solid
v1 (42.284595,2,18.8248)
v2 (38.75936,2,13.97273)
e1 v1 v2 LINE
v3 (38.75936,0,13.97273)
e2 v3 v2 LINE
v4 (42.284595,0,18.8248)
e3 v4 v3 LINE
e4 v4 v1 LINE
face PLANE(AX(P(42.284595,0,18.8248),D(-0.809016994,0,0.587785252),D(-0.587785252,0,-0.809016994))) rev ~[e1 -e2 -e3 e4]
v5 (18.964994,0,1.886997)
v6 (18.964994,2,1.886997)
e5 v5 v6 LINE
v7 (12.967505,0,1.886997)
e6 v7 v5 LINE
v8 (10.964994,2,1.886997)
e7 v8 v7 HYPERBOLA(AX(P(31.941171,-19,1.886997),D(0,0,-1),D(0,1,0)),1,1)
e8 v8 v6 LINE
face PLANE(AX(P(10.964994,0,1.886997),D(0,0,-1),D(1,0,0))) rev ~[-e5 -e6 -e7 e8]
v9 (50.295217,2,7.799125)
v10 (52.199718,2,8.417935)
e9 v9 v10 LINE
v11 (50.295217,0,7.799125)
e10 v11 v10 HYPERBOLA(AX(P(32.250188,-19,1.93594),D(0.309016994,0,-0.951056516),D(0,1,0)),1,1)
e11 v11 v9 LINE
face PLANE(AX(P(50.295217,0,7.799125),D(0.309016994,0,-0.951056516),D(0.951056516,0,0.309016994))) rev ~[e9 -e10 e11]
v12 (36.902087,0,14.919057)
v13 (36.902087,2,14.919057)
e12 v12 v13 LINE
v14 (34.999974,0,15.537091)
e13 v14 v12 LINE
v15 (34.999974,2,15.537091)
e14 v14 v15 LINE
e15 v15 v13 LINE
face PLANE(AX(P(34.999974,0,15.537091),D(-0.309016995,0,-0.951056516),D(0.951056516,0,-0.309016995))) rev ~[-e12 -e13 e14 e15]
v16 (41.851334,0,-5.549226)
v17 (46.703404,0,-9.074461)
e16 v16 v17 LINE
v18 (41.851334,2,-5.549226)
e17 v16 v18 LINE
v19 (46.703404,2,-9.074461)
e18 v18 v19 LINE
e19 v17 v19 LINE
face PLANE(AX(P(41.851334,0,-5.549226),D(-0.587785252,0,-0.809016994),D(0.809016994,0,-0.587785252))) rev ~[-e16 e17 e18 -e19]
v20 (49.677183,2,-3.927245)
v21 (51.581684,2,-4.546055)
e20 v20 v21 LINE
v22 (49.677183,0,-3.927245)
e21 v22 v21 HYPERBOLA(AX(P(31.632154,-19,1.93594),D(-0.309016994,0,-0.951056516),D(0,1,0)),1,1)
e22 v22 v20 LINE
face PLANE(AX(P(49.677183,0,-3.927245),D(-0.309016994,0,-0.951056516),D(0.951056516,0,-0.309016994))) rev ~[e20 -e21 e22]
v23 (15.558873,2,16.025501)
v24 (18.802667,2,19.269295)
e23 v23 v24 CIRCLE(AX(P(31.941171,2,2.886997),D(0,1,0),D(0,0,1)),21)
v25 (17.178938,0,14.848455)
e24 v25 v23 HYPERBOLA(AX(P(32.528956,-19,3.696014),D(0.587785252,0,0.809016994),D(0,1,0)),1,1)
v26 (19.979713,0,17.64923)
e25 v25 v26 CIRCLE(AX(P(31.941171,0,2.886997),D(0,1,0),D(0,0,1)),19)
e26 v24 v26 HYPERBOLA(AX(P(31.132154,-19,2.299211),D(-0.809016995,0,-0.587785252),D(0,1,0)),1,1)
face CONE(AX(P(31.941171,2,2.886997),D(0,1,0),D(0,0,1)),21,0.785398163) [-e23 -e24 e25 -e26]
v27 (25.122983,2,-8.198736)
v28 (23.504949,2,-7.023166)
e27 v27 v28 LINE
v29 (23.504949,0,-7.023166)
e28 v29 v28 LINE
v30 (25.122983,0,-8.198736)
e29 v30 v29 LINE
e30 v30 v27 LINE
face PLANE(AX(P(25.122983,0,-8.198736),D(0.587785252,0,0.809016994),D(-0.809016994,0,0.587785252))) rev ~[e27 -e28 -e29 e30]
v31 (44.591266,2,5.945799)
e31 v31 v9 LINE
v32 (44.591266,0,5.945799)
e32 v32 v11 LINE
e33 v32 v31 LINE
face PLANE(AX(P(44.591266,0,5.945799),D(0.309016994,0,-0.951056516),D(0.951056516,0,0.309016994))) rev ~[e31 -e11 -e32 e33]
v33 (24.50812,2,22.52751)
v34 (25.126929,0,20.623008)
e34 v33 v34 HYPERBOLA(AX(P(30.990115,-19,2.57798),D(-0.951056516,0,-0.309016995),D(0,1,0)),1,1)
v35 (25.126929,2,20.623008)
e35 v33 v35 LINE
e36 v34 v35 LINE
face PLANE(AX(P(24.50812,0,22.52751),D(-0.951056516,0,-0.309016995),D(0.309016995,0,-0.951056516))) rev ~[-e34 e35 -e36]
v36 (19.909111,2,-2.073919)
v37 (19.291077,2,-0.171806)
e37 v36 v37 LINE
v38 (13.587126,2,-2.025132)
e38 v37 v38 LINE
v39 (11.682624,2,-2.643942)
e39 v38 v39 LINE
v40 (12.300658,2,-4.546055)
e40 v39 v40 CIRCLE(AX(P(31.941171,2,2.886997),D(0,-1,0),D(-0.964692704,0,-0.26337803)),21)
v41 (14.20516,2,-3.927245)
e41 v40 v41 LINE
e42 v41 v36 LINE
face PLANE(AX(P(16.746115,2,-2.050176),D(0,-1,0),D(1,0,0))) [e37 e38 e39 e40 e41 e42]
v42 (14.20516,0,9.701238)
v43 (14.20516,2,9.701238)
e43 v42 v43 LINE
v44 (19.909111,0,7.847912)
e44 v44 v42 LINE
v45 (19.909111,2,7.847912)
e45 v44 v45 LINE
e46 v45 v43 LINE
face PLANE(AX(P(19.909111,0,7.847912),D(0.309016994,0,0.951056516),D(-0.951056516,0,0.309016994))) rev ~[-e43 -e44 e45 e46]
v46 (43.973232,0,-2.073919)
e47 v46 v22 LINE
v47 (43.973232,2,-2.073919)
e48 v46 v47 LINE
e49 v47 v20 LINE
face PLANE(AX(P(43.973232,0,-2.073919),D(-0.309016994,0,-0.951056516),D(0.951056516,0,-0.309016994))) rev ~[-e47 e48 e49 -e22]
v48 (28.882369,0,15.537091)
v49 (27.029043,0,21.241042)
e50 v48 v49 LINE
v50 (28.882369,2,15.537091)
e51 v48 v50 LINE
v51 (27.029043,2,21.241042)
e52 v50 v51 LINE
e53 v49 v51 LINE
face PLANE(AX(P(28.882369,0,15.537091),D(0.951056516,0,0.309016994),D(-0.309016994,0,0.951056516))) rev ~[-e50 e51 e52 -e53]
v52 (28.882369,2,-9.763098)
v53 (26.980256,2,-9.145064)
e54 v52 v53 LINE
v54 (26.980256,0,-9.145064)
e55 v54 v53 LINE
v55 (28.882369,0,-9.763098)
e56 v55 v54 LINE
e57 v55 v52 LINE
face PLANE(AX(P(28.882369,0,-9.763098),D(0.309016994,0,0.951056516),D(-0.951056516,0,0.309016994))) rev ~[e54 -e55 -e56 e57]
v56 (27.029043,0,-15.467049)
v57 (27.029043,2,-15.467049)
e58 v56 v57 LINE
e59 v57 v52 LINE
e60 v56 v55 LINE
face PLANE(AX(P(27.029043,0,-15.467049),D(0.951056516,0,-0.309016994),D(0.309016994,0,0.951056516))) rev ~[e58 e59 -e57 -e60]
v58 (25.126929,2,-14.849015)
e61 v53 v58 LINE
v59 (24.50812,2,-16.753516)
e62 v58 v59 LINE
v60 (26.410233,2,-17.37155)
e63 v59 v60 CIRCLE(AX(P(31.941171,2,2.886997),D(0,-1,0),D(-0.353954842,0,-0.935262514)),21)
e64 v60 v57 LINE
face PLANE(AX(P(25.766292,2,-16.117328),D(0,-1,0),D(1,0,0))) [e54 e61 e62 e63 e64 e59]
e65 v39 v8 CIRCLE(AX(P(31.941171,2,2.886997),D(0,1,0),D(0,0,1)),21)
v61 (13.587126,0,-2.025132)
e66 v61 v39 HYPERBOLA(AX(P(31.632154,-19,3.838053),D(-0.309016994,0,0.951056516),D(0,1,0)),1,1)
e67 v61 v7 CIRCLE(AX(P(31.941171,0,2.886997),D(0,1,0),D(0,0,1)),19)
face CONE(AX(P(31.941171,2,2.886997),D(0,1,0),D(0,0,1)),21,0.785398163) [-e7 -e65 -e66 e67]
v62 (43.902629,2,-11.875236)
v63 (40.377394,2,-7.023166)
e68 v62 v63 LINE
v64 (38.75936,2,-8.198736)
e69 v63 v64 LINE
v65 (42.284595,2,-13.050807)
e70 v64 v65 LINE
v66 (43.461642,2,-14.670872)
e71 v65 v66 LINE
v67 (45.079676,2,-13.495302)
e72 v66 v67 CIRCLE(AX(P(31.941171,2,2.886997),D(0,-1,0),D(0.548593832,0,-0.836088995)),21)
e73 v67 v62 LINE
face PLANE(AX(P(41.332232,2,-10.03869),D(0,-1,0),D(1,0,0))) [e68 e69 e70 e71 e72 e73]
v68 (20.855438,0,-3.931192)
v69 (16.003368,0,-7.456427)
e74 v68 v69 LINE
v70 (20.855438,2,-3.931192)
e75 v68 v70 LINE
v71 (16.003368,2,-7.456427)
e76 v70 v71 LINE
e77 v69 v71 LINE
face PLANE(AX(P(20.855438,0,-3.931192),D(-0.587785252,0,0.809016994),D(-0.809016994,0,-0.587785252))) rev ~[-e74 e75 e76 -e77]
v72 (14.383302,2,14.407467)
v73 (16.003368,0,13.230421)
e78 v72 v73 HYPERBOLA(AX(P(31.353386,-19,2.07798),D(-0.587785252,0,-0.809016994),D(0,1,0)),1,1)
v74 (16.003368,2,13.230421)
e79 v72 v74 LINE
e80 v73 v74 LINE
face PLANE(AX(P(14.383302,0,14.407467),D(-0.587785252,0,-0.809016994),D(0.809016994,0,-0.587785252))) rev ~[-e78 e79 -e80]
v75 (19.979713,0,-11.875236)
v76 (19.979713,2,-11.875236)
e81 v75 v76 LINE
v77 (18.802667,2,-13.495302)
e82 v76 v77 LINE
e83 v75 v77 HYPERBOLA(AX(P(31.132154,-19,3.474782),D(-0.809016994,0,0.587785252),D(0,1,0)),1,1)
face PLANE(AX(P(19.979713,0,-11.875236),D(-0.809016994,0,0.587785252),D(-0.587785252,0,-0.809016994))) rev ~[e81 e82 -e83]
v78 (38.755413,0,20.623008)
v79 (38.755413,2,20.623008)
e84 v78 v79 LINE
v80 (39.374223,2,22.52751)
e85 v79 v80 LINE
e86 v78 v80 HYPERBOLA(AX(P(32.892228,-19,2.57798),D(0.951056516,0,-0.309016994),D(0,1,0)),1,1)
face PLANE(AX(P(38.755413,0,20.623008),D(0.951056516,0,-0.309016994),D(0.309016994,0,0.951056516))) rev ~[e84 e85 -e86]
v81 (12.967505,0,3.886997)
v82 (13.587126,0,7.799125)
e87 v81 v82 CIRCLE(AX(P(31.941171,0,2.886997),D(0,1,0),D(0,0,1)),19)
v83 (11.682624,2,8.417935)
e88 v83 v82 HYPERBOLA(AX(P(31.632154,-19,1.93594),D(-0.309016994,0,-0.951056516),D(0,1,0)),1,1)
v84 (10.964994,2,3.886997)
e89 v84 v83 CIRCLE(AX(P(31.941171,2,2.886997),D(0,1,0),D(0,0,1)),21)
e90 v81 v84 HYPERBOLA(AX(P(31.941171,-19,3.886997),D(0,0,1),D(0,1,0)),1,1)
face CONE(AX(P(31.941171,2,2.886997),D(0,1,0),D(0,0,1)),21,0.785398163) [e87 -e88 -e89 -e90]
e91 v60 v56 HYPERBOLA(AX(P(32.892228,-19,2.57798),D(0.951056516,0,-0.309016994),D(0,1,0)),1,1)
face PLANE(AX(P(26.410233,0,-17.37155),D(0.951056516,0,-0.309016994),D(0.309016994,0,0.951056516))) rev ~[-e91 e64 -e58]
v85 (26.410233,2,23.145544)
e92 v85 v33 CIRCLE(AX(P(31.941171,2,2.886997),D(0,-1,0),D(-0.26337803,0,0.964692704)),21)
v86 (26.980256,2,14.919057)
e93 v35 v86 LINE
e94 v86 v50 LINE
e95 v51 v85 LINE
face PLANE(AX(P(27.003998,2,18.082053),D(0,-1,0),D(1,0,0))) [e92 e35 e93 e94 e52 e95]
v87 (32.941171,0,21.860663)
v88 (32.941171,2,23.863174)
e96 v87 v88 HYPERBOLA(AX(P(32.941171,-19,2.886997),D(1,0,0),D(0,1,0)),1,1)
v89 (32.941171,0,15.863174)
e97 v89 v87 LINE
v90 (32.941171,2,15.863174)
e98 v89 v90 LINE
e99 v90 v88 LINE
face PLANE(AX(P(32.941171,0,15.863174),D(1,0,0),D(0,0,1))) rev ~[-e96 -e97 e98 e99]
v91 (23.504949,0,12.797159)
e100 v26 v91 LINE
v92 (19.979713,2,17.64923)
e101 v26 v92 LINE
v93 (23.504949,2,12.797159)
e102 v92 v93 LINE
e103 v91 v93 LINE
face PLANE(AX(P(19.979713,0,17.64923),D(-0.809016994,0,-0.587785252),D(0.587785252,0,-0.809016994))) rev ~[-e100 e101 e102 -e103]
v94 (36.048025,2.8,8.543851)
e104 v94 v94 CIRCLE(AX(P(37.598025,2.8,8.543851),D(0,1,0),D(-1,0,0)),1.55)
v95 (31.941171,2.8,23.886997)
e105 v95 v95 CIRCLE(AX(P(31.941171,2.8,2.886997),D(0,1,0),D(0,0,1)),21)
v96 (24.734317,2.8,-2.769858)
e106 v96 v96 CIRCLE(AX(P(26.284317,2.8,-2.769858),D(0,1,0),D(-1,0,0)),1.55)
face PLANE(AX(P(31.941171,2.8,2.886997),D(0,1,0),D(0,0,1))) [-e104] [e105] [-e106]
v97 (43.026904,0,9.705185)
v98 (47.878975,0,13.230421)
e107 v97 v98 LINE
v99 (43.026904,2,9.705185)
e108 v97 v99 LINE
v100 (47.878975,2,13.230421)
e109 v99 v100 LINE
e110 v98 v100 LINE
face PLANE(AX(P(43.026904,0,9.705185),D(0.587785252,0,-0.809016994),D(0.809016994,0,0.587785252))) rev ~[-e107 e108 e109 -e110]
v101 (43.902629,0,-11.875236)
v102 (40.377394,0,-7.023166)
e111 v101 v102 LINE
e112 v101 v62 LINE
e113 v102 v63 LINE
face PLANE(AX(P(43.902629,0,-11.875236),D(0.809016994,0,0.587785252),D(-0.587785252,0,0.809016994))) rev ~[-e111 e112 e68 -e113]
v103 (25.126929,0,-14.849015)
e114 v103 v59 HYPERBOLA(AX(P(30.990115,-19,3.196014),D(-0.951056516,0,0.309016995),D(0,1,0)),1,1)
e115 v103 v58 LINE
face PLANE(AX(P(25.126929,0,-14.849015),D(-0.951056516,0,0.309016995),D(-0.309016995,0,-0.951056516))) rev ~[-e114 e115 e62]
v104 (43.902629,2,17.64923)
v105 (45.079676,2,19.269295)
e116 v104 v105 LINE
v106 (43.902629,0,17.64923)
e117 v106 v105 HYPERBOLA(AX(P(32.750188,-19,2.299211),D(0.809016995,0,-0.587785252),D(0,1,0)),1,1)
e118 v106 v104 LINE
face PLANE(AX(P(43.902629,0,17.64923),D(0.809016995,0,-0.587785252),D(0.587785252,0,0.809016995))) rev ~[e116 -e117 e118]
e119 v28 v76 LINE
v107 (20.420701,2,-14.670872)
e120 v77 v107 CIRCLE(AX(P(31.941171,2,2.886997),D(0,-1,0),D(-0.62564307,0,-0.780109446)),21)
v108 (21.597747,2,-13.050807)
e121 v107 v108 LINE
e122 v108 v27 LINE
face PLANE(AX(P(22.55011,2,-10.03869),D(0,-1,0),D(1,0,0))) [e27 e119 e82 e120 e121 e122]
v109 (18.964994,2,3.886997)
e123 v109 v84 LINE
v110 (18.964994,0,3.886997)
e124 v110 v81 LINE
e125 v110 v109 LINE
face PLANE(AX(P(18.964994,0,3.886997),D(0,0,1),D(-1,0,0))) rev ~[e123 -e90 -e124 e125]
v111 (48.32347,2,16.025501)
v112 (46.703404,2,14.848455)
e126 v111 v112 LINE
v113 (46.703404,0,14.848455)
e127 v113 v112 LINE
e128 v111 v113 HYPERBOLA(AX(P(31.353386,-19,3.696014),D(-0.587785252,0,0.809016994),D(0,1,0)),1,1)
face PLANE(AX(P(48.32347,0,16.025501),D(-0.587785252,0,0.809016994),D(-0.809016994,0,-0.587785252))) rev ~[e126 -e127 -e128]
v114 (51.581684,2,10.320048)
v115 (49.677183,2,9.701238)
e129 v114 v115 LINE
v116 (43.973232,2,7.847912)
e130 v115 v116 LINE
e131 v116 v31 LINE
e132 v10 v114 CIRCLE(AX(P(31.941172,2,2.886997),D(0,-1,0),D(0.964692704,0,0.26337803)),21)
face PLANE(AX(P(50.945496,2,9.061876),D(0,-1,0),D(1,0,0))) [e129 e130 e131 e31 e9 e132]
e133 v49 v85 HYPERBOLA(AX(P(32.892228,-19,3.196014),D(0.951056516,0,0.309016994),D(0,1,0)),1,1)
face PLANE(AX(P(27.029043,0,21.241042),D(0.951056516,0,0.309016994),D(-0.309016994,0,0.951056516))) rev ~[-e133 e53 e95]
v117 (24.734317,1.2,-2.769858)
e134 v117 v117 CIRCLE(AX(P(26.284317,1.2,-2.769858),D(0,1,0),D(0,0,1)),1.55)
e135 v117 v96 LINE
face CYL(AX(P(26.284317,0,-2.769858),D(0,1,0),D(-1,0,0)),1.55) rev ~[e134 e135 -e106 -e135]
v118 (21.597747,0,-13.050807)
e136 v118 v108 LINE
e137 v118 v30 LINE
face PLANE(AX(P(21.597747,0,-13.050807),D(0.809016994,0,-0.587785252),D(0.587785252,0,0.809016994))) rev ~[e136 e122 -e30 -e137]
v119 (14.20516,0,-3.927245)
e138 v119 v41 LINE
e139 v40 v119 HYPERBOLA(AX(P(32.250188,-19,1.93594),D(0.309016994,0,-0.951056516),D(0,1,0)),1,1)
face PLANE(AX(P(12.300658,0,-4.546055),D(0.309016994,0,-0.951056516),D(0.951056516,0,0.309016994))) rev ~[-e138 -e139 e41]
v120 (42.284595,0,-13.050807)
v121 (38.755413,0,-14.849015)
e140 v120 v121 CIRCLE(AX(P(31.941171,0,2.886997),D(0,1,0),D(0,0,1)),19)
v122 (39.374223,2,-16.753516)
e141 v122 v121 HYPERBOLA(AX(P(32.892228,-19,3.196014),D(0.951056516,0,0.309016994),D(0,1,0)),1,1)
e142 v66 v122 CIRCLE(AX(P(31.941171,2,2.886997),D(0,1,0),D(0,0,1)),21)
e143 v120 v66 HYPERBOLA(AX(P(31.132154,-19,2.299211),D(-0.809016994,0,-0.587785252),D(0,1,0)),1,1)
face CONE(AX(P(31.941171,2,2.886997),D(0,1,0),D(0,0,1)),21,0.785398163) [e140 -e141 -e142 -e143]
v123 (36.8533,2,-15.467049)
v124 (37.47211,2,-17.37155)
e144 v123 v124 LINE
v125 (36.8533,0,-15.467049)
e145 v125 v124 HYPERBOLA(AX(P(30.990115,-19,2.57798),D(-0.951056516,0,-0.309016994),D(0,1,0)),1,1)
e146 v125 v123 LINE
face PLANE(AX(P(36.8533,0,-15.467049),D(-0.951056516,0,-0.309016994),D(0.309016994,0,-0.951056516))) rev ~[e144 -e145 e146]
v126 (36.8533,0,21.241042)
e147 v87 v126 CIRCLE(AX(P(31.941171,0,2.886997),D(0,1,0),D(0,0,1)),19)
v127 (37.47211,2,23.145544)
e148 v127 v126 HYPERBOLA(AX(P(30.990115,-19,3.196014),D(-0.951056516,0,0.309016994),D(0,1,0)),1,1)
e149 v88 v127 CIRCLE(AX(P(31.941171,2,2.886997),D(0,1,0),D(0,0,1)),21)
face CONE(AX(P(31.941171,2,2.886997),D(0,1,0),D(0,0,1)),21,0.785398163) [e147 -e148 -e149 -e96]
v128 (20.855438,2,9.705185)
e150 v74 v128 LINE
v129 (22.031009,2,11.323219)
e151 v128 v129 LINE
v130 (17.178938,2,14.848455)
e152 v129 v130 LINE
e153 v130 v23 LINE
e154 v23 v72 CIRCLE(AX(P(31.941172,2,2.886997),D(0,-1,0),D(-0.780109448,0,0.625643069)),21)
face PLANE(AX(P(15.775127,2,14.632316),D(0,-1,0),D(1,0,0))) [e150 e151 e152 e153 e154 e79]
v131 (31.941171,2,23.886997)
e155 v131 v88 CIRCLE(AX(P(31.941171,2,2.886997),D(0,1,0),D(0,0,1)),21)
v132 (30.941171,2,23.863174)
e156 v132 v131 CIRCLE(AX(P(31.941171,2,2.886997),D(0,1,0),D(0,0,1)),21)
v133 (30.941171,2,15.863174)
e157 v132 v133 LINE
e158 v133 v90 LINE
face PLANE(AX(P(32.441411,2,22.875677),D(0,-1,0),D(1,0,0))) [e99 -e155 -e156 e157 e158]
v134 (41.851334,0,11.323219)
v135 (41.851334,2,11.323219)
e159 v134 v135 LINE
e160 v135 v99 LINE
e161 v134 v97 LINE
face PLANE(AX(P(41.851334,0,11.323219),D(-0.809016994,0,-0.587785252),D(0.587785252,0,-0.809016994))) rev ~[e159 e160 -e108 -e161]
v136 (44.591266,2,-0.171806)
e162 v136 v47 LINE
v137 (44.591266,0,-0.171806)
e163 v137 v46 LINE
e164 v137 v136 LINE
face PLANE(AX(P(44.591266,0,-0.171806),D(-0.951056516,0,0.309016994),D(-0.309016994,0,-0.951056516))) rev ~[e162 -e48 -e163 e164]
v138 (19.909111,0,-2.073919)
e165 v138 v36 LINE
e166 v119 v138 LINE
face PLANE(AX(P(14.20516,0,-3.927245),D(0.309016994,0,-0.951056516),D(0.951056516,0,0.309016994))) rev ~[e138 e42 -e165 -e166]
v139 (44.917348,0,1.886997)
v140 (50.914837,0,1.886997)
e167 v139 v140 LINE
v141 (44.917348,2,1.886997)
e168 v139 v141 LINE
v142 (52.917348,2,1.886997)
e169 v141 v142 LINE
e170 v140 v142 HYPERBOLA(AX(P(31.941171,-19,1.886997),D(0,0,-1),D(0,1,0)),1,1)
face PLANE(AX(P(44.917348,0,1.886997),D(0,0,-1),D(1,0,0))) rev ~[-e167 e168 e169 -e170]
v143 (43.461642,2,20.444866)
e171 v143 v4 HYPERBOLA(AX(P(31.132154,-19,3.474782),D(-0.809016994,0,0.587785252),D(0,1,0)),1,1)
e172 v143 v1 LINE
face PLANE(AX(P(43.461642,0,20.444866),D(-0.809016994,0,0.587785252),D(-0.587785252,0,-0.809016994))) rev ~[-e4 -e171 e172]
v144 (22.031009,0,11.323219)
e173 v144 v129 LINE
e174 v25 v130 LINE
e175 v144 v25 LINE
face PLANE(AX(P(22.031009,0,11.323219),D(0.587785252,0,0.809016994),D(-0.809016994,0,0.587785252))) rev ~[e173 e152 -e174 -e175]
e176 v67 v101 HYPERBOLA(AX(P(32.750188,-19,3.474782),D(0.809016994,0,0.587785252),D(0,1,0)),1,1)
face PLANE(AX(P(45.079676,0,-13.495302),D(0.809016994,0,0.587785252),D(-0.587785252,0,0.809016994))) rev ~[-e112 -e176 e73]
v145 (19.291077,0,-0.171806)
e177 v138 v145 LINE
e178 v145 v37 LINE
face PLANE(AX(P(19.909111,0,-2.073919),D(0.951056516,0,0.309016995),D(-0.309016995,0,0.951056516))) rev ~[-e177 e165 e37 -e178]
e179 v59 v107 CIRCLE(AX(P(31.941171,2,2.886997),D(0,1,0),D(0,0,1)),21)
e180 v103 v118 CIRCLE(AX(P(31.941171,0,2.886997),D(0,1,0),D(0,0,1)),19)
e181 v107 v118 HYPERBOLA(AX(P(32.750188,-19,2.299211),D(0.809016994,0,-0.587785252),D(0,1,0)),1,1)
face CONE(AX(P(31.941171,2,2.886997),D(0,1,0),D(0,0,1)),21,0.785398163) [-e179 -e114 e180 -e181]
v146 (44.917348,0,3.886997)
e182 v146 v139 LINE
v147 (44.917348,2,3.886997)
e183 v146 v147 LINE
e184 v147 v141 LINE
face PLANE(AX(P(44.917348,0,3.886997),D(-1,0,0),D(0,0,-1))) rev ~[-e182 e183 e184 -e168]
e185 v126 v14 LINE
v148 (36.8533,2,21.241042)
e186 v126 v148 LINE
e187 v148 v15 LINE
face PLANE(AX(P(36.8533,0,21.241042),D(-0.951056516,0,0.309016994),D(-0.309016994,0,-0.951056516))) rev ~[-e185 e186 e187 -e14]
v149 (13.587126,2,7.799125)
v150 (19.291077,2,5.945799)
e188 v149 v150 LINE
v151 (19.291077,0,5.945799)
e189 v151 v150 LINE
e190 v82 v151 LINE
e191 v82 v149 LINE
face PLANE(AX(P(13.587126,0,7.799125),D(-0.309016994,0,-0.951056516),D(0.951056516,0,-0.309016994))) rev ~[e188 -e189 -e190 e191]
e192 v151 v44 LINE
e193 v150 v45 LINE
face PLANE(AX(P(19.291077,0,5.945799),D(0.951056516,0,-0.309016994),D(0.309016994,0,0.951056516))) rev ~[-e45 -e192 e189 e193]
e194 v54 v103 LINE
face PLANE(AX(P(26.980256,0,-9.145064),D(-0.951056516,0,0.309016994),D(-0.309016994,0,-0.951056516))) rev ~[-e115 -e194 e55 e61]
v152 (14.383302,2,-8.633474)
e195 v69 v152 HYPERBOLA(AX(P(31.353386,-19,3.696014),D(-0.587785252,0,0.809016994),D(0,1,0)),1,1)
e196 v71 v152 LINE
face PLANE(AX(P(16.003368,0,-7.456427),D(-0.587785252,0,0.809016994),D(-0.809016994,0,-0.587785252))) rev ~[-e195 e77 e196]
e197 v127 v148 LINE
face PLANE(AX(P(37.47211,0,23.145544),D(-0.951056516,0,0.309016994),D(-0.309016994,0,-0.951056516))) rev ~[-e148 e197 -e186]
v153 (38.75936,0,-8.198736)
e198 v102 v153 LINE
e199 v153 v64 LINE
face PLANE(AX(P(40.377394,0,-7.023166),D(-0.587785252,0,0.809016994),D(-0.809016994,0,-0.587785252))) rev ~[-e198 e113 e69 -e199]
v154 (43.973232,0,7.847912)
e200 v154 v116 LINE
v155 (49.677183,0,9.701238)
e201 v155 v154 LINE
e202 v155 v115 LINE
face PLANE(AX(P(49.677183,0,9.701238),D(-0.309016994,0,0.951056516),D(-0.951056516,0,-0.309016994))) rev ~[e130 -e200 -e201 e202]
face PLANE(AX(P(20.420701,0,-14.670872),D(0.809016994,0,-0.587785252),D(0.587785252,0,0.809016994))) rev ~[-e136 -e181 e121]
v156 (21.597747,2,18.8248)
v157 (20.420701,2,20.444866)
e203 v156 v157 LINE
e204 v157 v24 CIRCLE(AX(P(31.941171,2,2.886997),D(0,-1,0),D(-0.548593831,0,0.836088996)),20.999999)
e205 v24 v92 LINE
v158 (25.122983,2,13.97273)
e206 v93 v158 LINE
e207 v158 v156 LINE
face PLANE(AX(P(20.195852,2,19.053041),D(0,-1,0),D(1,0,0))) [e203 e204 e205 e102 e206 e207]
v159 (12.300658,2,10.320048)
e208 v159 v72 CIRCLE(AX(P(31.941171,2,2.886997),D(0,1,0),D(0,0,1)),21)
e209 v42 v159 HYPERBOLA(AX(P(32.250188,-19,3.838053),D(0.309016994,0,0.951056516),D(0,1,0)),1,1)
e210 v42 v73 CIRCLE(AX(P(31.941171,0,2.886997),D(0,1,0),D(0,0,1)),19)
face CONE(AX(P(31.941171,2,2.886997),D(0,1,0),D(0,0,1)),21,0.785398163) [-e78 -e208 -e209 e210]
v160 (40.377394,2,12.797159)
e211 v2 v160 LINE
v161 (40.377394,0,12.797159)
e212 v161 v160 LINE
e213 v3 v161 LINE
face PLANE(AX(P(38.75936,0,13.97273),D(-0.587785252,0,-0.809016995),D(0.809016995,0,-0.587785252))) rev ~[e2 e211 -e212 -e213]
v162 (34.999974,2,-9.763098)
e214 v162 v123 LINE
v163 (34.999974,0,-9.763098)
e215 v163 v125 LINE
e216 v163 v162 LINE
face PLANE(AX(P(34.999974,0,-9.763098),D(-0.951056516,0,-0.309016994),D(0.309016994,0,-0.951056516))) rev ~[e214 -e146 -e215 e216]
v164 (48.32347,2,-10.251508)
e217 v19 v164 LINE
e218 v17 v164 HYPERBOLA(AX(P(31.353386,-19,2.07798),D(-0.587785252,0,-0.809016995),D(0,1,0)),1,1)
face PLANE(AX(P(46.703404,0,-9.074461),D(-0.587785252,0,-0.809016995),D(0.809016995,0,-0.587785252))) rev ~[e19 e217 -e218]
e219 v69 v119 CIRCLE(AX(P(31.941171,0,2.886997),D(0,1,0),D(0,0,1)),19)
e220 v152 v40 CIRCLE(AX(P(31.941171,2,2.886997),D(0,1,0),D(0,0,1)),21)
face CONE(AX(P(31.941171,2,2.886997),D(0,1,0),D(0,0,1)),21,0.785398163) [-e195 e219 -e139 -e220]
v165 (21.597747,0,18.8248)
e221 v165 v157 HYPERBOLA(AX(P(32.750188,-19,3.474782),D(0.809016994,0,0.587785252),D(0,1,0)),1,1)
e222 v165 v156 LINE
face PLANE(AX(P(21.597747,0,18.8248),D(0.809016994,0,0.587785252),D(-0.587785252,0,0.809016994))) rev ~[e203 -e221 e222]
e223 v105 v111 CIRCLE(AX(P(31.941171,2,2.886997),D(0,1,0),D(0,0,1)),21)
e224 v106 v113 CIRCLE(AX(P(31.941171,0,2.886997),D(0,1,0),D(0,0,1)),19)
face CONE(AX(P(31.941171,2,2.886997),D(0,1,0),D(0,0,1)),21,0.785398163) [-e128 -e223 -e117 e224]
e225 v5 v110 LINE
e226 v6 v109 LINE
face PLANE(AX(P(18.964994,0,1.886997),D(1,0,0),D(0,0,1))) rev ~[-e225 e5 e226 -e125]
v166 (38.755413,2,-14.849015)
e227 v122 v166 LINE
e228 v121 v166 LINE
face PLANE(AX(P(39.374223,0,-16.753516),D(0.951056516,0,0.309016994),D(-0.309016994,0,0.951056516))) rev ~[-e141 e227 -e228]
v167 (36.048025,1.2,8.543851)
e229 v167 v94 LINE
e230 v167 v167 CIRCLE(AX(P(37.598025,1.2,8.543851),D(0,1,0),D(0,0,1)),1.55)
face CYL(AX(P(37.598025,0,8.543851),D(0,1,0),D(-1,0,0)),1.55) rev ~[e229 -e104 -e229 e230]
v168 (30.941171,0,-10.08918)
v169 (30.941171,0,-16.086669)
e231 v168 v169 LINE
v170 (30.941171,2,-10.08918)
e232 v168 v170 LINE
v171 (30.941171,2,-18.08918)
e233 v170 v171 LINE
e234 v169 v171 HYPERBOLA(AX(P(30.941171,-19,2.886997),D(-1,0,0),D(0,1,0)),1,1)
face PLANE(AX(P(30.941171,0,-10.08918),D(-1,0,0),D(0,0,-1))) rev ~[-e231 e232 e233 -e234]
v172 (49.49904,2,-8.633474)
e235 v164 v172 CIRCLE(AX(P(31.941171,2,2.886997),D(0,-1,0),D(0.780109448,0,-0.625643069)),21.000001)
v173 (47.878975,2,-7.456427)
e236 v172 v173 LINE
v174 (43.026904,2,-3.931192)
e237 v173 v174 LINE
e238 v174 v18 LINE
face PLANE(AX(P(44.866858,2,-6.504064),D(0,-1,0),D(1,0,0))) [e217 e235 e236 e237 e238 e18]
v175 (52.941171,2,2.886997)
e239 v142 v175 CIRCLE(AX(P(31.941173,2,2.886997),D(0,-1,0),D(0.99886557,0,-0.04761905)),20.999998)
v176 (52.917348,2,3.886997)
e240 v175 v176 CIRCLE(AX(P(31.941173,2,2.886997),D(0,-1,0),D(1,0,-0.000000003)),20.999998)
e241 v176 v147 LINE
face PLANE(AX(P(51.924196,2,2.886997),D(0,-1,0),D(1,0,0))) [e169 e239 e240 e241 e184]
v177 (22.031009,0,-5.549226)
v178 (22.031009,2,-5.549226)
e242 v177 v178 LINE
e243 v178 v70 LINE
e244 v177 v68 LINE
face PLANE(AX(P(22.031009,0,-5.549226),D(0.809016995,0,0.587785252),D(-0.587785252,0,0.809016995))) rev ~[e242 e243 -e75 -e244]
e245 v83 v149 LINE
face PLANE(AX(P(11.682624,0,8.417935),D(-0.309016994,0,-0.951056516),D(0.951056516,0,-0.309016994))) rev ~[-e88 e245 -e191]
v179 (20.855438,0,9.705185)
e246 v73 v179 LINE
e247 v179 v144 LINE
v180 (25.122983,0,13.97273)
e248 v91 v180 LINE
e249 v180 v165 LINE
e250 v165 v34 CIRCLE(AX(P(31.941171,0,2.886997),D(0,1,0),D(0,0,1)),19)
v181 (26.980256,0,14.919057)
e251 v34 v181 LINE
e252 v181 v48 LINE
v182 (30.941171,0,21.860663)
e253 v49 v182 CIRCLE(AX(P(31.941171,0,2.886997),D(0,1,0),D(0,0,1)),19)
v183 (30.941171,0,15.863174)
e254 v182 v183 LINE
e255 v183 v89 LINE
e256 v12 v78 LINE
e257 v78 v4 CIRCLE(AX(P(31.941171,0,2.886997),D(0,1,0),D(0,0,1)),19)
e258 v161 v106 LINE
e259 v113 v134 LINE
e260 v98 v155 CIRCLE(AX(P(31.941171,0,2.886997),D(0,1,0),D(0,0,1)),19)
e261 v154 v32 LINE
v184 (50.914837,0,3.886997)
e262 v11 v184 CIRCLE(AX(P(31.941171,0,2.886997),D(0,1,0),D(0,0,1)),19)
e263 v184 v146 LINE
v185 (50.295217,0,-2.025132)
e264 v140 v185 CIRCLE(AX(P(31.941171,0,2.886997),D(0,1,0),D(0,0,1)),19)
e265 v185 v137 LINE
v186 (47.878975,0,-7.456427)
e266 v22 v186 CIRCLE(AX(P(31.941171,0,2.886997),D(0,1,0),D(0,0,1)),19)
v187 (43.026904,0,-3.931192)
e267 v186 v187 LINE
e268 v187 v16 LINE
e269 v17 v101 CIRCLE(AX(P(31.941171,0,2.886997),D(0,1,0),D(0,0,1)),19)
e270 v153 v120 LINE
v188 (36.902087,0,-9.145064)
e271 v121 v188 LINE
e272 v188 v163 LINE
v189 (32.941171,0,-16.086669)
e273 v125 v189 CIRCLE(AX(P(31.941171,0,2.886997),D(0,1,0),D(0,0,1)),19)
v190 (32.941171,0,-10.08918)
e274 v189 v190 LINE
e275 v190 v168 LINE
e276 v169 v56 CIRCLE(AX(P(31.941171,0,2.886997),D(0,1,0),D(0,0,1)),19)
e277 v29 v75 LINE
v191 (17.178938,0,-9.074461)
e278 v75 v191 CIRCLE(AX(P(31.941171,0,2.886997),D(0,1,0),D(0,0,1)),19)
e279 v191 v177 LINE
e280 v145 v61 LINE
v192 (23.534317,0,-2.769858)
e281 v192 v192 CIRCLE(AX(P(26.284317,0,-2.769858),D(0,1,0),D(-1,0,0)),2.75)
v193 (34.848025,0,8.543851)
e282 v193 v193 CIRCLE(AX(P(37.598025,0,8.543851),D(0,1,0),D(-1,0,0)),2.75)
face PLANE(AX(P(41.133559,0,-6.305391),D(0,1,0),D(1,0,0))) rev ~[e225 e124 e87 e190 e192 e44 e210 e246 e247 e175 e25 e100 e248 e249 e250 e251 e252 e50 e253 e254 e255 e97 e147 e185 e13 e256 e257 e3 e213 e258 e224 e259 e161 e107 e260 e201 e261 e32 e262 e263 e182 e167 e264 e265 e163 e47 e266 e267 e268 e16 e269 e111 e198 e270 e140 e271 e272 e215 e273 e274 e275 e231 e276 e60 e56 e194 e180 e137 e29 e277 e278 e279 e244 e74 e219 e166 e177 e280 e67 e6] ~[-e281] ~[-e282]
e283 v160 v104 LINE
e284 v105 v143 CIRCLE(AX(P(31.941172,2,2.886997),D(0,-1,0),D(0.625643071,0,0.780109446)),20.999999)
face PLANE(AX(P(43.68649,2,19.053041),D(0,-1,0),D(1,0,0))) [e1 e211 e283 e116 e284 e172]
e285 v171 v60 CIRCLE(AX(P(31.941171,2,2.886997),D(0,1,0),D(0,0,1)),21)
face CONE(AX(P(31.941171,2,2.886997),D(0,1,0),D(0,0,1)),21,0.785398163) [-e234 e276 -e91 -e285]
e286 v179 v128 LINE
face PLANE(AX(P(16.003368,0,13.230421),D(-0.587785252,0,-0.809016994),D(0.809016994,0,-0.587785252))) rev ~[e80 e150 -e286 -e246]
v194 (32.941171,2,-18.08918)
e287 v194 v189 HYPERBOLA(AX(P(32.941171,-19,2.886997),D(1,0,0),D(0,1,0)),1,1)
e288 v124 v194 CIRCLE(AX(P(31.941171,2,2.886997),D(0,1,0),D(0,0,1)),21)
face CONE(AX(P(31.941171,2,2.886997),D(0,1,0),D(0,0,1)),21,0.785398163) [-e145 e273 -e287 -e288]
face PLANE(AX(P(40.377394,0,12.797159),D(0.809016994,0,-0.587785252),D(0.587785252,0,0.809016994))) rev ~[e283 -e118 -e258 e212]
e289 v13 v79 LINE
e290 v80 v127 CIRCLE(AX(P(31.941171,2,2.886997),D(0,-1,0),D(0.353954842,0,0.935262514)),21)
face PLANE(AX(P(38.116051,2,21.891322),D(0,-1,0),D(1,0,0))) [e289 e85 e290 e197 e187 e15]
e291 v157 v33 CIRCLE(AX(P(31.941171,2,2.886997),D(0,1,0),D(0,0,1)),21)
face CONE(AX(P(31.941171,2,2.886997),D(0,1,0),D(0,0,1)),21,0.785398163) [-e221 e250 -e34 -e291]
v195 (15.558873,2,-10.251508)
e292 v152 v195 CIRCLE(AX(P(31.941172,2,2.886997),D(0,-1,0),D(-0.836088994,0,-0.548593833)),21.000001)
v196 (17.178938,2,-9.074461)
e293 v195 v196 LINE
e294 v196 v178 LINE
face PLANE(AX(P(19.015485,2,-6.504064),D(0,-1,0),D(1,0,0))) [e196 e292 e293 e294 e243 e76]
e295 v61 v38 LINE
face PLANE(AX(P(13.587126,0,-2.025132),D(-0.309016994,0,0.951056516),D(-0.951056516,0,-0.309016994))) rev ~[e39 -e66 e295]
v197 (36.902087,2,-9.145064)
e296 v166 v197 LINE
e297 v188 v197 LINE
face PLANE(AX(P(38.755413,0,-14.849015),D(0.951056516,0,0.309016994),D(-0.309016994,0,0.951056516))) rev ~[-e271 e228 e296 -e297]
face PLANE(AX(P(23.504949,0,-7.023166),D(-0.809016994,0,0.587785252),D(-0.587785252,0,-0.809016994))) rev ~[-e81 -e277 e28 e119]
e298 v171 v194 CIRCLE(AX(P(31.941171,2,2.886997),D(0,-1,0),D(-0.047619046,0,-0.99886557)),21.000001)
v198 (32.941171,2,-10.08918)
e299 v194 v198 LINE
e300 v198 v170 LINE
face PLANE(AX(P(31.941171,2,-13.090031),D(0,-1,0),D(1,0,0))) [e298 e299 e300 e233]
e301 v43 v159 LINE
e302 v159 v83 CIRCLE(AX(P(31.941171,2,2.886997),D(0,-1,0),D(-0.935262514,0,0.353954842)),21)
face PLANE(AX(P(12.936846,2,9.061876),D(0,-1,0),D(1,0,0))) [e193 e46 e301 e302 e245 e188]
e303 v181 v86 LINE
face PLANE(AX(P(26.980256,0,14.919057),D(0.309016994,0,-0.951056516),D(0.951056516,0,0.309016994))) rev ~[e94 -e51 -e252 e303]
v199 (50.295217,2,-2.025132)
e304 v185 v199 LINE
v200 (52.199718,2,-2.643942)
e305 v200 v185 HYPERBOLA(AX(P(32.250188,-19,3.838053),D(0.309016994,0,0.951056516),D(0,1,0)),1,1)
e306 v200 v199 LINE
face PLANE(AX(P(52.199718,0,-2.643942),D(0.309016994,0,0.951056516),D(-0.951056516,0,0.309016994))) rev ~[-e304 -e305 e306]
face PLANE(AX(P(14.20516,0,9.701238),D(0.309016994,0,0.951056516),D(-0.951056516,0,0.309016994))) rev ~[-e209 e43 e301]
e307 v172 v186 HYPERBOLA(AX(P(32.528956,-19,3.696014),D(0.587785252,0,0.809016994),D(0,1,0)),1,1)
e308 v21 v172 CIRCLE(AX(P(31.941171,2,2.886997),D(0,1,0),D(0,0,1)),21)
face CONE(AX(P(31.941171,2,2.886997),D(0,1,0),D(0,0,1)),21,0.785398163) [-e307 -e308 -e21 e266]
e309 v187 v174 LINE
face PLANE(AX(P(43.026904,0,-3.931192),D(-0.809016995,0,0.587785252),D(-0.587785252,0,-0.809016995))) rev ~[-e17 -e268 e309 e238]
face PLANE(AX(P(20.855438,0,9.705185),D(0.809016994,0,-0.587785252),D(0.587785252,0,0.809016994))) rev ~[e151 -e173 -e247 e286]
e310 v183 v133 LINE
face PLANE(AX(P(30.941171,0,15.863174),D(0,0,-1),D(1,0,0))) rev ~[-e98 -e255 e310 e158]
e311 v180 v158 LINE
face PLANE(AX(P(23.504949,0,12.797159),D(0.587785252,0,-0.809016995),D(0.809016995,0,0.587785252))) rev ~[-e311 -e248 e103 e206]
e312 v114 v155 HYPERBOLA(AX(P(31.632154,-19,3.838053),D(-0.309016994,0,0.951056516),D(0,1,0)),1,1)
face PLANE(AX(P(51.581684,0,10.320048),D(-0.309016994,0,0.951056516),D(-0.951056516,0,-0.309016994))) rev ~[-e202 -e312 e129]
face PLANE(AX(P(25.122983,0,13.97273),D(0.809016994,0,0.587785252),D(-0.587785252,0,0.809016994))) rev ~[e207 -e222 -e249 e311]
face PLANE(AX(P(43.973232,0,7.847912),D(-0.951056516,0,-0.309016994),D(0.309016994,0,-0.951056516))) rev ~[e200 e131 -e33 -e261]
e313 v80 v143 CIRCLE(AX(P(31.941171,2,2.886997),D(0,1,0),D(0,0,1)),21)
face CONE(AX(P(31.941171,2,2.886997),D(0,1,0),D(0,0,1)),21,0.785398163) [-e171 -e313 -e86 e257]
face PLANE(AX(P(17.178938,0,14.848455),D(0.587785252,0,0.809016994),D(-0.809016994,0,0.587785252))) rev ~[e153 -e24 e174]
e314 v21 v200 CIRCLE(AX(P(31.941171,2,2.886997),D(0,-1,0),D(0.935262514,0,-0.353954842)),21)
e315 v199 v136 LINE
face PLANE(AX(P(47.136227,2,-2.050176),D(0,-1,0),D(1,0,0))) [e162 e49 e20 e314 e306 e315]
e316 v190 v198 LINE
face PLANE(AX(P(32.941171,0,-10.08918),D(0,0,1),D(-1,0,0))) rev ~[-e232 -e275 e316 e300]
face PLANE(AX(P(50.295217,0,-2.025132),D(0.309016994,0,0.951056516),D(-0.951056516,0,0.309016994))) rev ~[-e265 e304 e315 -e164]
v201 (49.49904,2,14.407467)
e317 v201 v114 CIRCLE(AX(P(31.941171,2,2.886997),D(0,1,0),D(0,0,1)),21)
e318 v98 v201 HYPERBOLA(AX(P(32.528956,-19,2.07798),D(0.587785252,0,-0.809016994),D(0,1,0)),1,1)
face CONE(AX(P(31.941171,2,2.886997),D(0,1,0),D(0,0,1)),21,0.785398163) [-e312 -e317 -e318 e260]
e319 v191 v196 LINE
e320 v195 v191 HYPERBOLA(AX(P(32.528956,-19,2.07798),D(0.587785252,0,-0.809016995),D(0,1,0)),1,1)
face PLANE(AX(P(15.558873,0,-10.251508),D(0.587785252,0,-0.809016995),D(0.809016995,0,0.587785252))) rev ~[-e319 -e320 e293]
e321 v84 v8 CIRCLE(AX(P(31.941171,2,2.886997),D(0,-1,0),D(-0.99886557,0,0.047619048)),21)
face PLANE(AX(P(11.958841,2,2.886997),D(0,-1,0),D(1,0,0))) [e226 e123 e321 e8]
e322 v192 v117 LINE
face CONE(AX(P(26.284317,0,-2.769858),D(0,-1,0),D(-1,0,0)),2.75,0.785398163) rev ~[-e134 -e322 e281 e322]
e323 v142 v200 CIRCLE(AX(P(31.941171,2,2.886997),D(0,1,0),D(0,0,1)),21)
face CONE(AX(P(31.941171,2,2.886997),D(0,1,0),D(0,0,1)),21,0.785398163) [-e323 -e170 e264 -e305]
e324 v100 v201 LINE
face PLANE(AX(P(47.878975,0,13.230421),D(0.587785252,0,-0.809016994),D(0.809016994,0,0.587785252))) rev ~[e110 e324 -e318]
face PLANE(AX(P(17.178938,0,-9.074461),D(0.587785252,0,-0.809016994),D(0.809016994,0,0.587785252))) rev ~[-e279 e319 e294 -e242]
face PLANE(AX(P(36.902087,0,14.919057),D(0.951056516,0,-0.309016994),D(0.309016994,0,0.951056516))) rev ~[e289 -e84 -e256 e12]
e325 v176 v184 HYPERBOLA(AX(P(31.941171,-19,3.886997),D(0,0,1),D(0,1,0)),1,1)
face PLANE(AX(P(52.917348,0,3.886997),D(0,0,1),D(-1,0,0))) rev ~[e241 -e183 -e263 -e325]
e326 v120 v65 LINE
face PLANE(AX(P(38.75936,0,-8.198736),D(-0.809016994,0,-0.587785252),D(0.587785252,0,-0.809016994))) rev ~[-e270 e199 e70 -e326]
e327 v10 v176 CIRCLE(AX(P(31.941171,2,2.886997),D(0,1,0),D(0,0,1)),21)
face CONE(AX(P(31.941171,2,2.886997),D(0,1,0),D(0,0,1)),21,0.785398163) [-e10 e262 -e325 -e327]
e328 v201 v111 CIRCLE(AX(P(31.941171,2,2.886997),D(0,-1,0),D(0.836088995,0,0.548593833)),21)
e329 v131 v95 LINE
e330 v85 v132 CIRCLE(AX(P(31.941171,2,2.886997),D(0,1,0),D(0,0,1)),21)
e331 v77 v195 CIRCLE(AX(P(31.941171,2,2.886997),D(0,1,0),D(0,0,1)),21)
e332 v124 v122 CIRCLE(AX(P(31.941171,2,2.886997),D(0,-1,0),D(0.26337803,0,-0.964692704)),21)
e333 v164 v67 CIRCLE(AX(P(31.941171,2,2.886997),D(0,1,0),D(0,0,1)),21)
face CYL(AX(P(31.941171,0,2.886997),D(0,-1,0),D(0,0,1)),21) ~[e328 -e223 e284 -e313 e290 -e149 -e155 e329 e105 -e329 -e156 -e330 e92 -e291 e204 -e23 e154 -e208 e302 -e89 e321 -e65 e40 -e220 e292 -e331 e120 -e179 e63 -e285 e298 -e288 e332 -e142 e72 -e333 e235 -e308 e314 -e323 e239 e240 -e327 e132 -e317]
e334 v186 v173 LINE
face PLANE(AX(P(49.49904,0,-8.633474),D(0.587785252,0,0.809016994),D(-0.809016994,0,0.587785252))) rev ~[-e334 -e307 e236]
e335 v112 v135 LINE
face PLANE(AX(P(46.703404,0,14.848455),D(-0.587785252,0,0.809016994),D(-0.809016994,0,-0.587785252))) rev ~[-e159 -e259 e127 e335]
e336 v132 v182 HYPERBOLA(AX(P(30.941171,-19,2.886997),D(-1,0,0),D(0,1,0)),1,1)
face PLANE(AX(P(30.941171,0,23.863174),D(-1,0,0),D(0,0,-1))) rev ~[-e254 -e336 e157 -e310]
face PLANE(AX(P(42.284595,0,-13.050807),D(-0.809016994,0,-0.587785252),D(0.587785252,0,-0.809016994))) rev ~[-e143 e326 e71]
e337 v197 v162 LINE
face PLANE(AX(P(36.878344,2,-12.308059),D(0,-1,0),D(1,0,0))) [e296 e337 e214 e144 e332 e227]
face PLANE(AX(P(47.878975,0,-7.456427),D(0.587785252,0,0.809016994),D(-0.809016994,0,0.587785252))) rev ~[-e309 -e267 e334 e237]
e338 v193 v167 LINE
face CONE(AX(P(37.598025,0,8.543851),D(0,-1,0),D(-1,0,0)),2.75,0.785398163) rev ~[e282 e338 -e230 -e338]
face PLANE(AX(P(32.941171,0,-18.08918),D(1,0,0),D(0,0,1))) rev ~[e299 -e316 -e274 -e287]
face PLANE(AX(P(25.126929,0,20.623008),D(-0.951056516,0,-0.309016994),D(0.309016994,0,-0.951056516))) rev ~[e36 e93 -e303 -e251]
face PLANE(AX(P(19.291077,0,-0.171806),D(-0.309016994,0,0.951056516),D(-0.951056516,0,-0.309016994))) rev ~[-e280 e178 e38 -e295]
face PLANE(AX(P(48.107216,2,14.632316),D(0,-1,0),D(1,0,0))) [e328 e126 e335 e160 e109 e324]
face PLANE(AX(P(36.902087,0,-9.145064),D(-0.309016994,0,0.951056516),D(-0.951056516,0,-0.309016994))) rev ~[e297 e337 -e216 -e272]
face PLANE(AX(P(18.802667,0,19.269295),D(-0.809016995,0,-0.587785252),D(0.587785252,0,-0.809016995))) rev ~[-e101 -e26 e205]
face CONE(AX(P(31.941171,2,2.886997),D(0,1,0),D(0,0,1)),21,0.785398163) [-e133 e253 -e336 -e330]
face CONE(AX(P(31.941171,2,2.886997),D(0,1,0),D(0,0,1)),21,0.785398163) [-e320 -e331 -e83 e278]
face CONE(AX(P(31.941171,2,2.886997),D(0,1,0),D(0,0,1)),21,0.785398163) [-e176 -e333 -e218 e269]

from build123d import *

# Parameters (mm, degrees)
SKETCH2_R                                         = 21
SKETCH2_R_2                                       = 7.5
BOSS_EXTRUDE1_DEPTH                               = 2.8
CSK_FOR_M2_5_FLAT_HEAD_MACHINE_SCREW1_D           = 3.1
CSK_FOR_M2_5_FLAT_HEAD_MACHINE_SCREW1_CSINK_D     = 5.5
CSK_FOR_M2_5_FLAT_HEAD_MACHINE_SCREW1_CSINK_ANGLE = 90
CHAMFER1_SIZE                                     = 2
CUT_EXTRUDE1_DEPTH                                = 2


with BuildPart() as part:
    # Sketch2 → Boss-Extrude1 (new body)
    # profile 1 of 3: a face of its own
    with BuildSketch(Plane(origin=(0, 0, 0), x_dir=(1, 0, 0), z_dir=(0, 1, 0))):
        with Locations(Location((31.941171231, -2.886996739, 0), (0, 0, 270))):
            Circle(SKETCH2_R)
        with Locations((22.748783076, -12.079384894)):
            Circle(SKETCH2_R_2, mode=Mode.SUBTRACT)
        with Locations((41.133559387, 6.305391417)):
            Circle(SKETCH2_R_2, mode=Mode.SUBTRACT)
    # profile 2 of 3: a face of its own
    with BuildSketch(Plane(origin=(0, 0, 0), x_dir=(1, 0, 0), z_dir=(0, 1, 0))):
        with Locations((22.748783076, -12.079384894)):
            Circle(SKETCH2_R_2)
    # profile 3 of 3: a face of its own
    with BuildSketch(Plane(origin=(0, 0, 0), x_dir=(1, 0, 0), z_dir=(0, 1, 0))):
        with Locations((41.133559387, 6.305391417)):
            Circle(SKETCH2_R_2)
    extrude(amount=BOSS_EXTRUDE1_DEPTH)

    # CSK for M2.5 Flat Head Machine Screw1 (through all)
    with Locations(Plane.XZ):
        with Locations((26.284316982, -2.769857511), (37.598025481, 8.543850988)):
            CounterSinkHole(CSK_FOR_M2_5_FLAT_HEAD_MACHINE_SCREW1_D / 2, CSK_FOR_M2_5_FLAT_HEAD_MACHINE_SCREW1_CSINK_D / 2, counter_sink_angle=CSK_FOR_M2_5_FLAT_HEAD_MACHINE_SCREW1_CSINK_ANGLE)

    # Chamfer1
    chamfer1_edges = [part.edges().sort_by_distance(p)[0] for p in [
        (31.941171231, 0, -18.113003261),
    ]]
    chamfer(chamfer1_edges, length=CHAMFER1_SIZE)

    # Sketch5 → Cut-Extrude1 (cut)
    with BuildSketch(Plane.XZ):
        with BuildLine():
            Line((19.291076579, -0.171805949), (13.587125587, -2.025131973))
            ThreePointArc((13.587125587, -2.025131973), (13.871097422, -2.984326154), (14.205159576, -3.927245005))
            Line((14.205159576, -3.927245005), (19.909110568, -2.073918981))
            Line((19.909110568, -2.073918981), (19.291076579, -0.171805949))
        make_face()
        with BuildLine():
            Line((20.855438294, -3.931191717), (16.003367771, -7.456427301))
            ThreePointArc((16.003367771, -7.456427301), (16.569848338, -8.280923055), (17.178938276, -9.07446129))
            Line((17.178938276, -9.07446129), (22.031008798, -5.549225706))
            Line((22.031008798, -5.549225706), (20.855438294, -3.931191717))
        make_face()
        with BuildLine():
            Line((23.504948787, -7.023165694), (19.979713203, -11.875236217))
            ThreePointArc((19.979713203, -11.875236217), (20.773251438, -12.484326154), (21.597747192, -13.050806722))
            Line((21.597747192, -13.050806722), (25.122982776, -8.198736199))
            Line((25.122982776, -8.198736199), (23.504948787, -7.023165694))
        make_face()
        with BuildLine():
            Line((19.979713203, -11.875236217), (18.802666769, -13.495301649))
            ThreePointArc((18.802666769, -13.495301649), (19.597680933, -14.102360143), (20.420700757, -14.670872154))
            Line((20.420700757, -14.670872154), (21.597747192, -13.050806722))
            ThreePointArc((21.597747192, -13.050806722), (20.773251438, -12.484326154), (19.979713203, -11.875236217))
        make_face()
        with BuildLine():
            Line((25.126929488, -14.849014917), (24.508119556, -16.753516055))
            ThreePointArc((24.508119556, -16.753516055), (25.45181435, -17.085190104), (26.410232589, -17.371550044))
            Line((26.410232589, -17.371550044), (27.02904252, -15.467048906))
            ThreePointArc((27.02904252, -15.467048906), (26.069848338, -15.183077071), (25.126929488, -14.849014917))
        make_face()
        with BuildLine():
            Line((26.980255511, -9.145063925), (25.126929488, -14.849014917))
            ThreePointArc((25.126929488, -14.849014917), (26.069848338, -15.183077071), (27.02904252, -15.467048906))
            Line((27.02904252, -15.467048906), (28.882368544, -9.763097913))
            Line((28.882368544, -9.763097913), (26.980255511, -9.145063925))
        make_face()
        with BuildLine():
            Line((30.941171231, -10.089180225), (30.941171231, -16.086669222))
            ThreePointArc((30.941171231, -16.086669222), (31.941171231, -16.113003261), (32.941171231, -16.086669222))
            Line((32.941171231, -16.086669222), (32.941171231, -10.089180225))
            Line((32.941171231, -10.089180225), (30.941171231, -10.089180225))
        make_face()
        with BuildLine():
            Line((30.941171231, -16.086669222), (30.941171231, -18.089180225))
            ThreePointArc((30.941171231, -18.089180225), (31.941171231, -18.113003261), (32.941171231, -18.089180225))
            Line((32.941171231, -18.089180225), (32.941171231, -16.086669222))
            ThreePointArc((32.941171231, -16.086669222), (31.941171231, -16.113003261), (30.941171231, -16.086669222))
        make_face()
        with BuildLine():
            ThreePointArc((36.853299943, -15.467048906), (37.812494125, -15.183077071), (38.755412975, -14.849014917))
            Line((38.755412975, -14.849014917), (36.902086951, -9.145063925))
            Line((36.902086951, -9.145063925), (34.999973919, -9.763097913))
            Line((34.999973919, -9.763097913), (36.853299943, -15.467048906))
        make_face()
        with BuildLine():
            ThreePointArc((37.472109874, -17.371550044), (38.430528113, -17.085190104), (39.374222906, -16.753516055))
            Line((39.374222906, -16.753516055), (38.755412975, -14.849014917))
            ThreePointArc((38.755412975, -14.849014917), (37.812494125, -15.183077071), (36.853299943, -15.467048906))
            Line((36.853299943, -15.467048906), (37.472109874, -17.371550044))
        make_face()
        with BuildLine():
            ThreePointArc((42.284595271, -13.050806722), (43.109091025, -12.484326154), (43.90262926, -11.875236217))
            Line((43.90262926, -11.875236217), (40.377393676, -7.023165694))
            Line((40.377393676, -7.023165694), (38.759359687, -8.198736199))
            Line((38.759359687, -8.198736199), (42.284595271, -13.050806722))
        make_face()
        with BuildLine():
            ThreePointArc((43.461641706, -14.670872154), (44.28466153, -14.102360143), (45.079675694, -13.495301649))
            Line((45.079675694, -13.495301649), (43.90262926, -11.875236217))
            ThreePointArc((43.90262926, -11.875236217), (43.109091025, -12.484326154), (42.284595271, -13.050806722))
            Line((42.284595271, -13.050806722), (43.461641706, -14.670872154))
        make_face()
        with BuildLine():
            ThreePointArc((46.703404187, -9.07446129), (47.312494125, -8.280923055), (47.878974692, -7.456427301))
            Line((47.878974692, -7.456427301), (43.026904169, -3.931191717))
            Line((43.026904169, -3.931191717), (41.851333665, -5.549225706))
            Line((41.851333665, -5.549225706), (46.703404187, -9.07446129))
        make_face()
        with BuildLine():
            ThreePointArc((48.32346962, -10.251507724), (48.930528113, -9.456493559), (49.499040124, -8.633473736))
            Line((49.499040124, -8.633473736), (47.878974692, -7.456427301))
            ThreePointArc((47.878974692, -7.456427301), (47.312494125, -8.280923055), (46.703404187, -9.07446129))
            Line((46.703404187, -9.07446129), (48.32346962, -10.251507724))
        make_face()
        with BuildLine():
            ThreePointArc((49.677182887, -3.927245005), (50.011245041, -2.984326154), (50.295216876, -2.025131973))
            Line((50.295216876, -2.025131973), (44.591265883, -0.171805949))
            Line((44.591265883, -0.171805949), (43.973231895, -2.073918981))
            Line((43.973231895, -2.073918981), (49.677182887, -3.927245005))
        make_face()
        with BuildLine():
            ThreePointArc((51.581684025, -4.546054936), (51.913358074, -3.602360143), (52.199718014, -2.643941904))
            Line((52.199718014, -2.643941904), (50.295216876, -2.025131973))
            ThreePointArc((50.295216876, -2.025131973), (50.011245041, -2.984326154), (49.677182887, -3.927245005))
            Line((49.677182887, -3.927245005), (51.581684025, -4.546054936))
        make_face()
        with BuildLine():
            ThreePointArc((52.941171231, 2.886996739), (52.935214628, 3.387138603), (52.917348195, 3.886996739))
            Line((52.917348195, 3.886996739), (50.914837192, 3.886996739))
            ThreePointArc((50.914837192, 3.886996739), (50.934586581, 3.387170079), (50.941171231, 2.886996739))
            ThreePointArc((50.941171231, 2.886996739), (50.934586581, 2.386823398), (50.914837192, 1.886996739))
            Line((50.914837192, 1.886996739), (52.917348195, 1.886996739))
            ThreePointArc((52.917348195, 1.886996739), (52.935214628, 2.386854875), (52.941171231, 2.886996739))
        make_face()
        with BuildLine():
            ThreePointArc((50.941171231, 2.886996739), (50.934586581, 3.387170079), (50.914837192, 3.886996739))
            Line((50.914837192, 3.886996739), (44.917348195, 3.886996739))
            Line((44.917348195, 3.886996739), (44.917348195, 1.886996739))
            Line((44.917348195, 1.886996739), (50.914837192, 1.886996739))
            ThreePointArc((50.914837192, 1.886996739), (50.934586581, 2.386823398), (50.941171231, 2.886996739))
        make_face()
        with BuildLine():
            ThreePointArc((52.199718014, 8.417935381), (51.913358074, 9.376353621), (51.581684025, 10.320048414))
            Line((51.581684025, 10.320048414), (49.677182887, 9.701238483))
            ThreePointArc((49.677182887, 9.701238483), (50.011245041, 8.758319632), (50.295216876, 7.79912545))
            Line((50.295216876, 7.79912545), (52.199718014, 8.417935381))
        make_face()
        with BuildLine():
            ThreePointArc((50.295216876, 7.79912545), (50.011245041, 8.758319632), (49.677182887, 9.701238483))
            Line((49.677182887, 9.701238483), (43.973231895, 7.847912459))
            Line((43.973231895, 7.847912459), (44.591265883, 5.945799426))
            Line((44.591265883, 5.945799426), (50.295216876, 7.79912545))
        make_face()
        with BuildLine():
            ThreePointArc((49.499040124, 14.407467213), (48.930528113, 15.230487037), (48.32346962, 16.025501202))
            Line((48.32346962, 16.025501202), (46.703404187, 14.848454767))
            ThreePointArc((46.703404187, 14.848454767), (47.312494125, 14.054916532), (47.878974692, 13.230420778))
            Line((47.878974692, 13.230420778), (49.499040124, 14.407467213))
        make_face()
        with BuildLine():
            ThreePointArc((47.878974692, 13.230420778), (47.312494125, 14.054916532), (46.703404187, 14.848454767))
            Line((46.703404187, 14.848454767), (41.851333665, 11.323219183))
            Line((41.851333665, 11.323219183), (43.026904169, 9.705185195))
            Line((43.026904169, 9.705185195), (47.878974692, 13.230420778))
        make_face()
        with BuildLine():
            ThreePointArc((45.079675694, 19.269295127), (44.28466153, 19.876353621), (43.461641706, 20.444865631))
            Line((43.461641706, 20.444865631), (42.284595271, 18.824800199))
            ThreePointArc((42.284595271, 18.824800199), (43.109091025, 18.258319632), (43.90262926, 17.649229694))
            Line((43.90262926, 17.649229694), (45.079675694, 19.269295127))
        make_face()
        with BuildLine():
            ThreePointArc((43.90262926, 17.649229694), (43.109091025, 18.258319632), (42.284595271, 18.824800199))
            Line((42.284595271, 18.824800199), (38.759359687, 13.972729676))
            Line((38.759359687, 13.972729676), (40.377393676, 12.797159172))
            Line((40.377393676, 12.797159172), (43.90262926, 17.649229694))
        make_face()
        with BuildLine():
            ThreePointArc((39.374222906, 22.527509532), (38.430528113, 22.859183581), (37.472109874, 23.145543521))
            Line((37.472109874, 23.145543521), (36.853299943, 21.241042383))
            ThreePointArc((36.853299943, 21.241042383), (37.812494125, 20.957070548), (38.755412975, 20.623008395))
            Line((38.755412975, 20.623008395), (39.374222906, 22.527509532))
        make_face()
        with BuildLine():
            ThreePointArc((38.755412975, 20.623008395), (37.812494125, 20.957070548), (36.853299943, 21.241042383))
            Line((36.853299943, 21.241042383), (34.999973919, 15.537091391))
            Line((34.999973919, 15.537091391), (36.902086951, 14.919057402))
            Line((36.902086951, 14.919057402), (38.755412975, 20.623008395))
        make_face()
        with BuildLine():
            ThreePointArc((32.941171231, 23.863173702), (32.441313096, 23.881040135), (31.941171231, 23.886996739))
            Line((31.941171231, 23.886996739), (31.941171231, 21.886996739))
            ThreePointArc((31.941171231, 21.886996739), (32.441344572, 21.880412088), (32.941171231, 21.8606627))
            Line((32.941171231, 21.8606627), (32.941171231, 23.863173702))
        make_face()
        with BuildLine():
            Line((31.941171231, 21.886996739), (31.941171231, 23.886996739))
            ThreePointArc((31.941171231, 23.886996739), (31.441029367, 23.881040135), (30.941171231, 23.863173702))
            Line((30.941171231, 23.863173702), (30.941171231, 21.8606627))
            ThreePointArc((30.941171231, 21.8606627), (31.440997891, 21.880412088), (31.941171231, 21.886996739))
        make_face()
        with BuildLine():
            ThreePointArc((32.941171231, 21.8606627), (32.441344572, 21.880412088), (31.941171231, 21.886996739))
            Line((31.941171231, 21.886996739), (31.941171231, 15.863173702))
            Line((31.941171231, 15.863173702), (32.941171231, 15.863173702))
            Line((32.941171231, 15.863173702), (32.941171231, 21.8606627))
        make_face()
        with BuildLine():
            Line((31.941171231, 15.863173702), (31.941171231, 21.886996739))
            ThreePointArc((31.941171231, 21.886996739), (31.440997891, 21.880412088), (30.941171231, 21.8606627))
            Line((30.941171231, 21.8606627), (30.941171231, 15.863173702))
            Line((30.941171231, 15.863173702), (31.941171231, 15.863173702))
        make_face()
        with BuildLine():
            Line((28.882368544, 15.537091391), (27.02904252, 21.241042383))
            ThreePointArc((27.02904252, 21.241042383), (26.069848338, 20.957070548), (25.126929488, 20.623008395))
            Line((25.126929488, 20.623008395), (26.980255511, 14.919057402))
            Line((26.980255511, 14.919057402), (28.882368544, 15.537091391))
        make_face()
        with BuildLine():
            Line((27.02904252, 21.241042383), (26.410232589, 23.145543521))
            ThreePointArc((26.410232589, 23.145543521), (25.45181435, 22.859183581), (24.508119556, 22.527509532))
            Line((24.508119556, 22.527509532), (25.126929488, 20.623008395))
            ThreePointArc((25.126929488, 20.623008395), (26.069848338, 20.957070548), (27.02904252, 21.241042383))
        make_face()
        with BuildLine():
            Line((21.597747192, 18.824800199), (20.420700757, 20.444865631))
            ThreePointArc((20.420700757, 20.444865631), (19.597680933, 19.876353621), (18.802666769, 19.269295127))
            Line((18.802666769, 19.269295127), (19.979713203, 17.649229694))
            ThreePointArc((19.979713203, 17.649229694), (20.773251438, 18.258319632), (21.597747192, 18.824800199))
        make_face()
        with BuildLine():
            Line((25.122982776, 13.972729676), (21.597747192, 18.824800199))
            ThreePointArc((21.597747192, 18.824800199), (20.773251438, 18.258319632), (19.979713203, 17.649229694))
            Line((19.979713203, 17.649229694), (23.504948787, 12.797159172))
            Line((23.504948787, 12.797159172), (25.122982776, 13.972729676))
        make_face()
        with BuildLine():
            Line((17.178938276, 14.848454767), (15.558872843, 16.025501202))
            ThreePointArc((15.558872843, 16.025501202), (14.95181435, 15.230487037), (14.383302339, 14.407467213))
            Line((14.383302339, 14.407467213), (16.003367771, 13.230420778))
            ThreePointArc((16.003367771, 13.230420778), (16.569848338, 14.054916532), (17.178938276, 14.848454767))
        make_face()
        with BuildLine():
            Line((22.031008798, 11.323219183), (17.178938276, 14.848454767))
            ThreePointArc((17.178938276, 14.848454767), (16.569848338, 14.054916532), (16.003367771, 13.230420778))
            Line((16.003367771, 13.230420778), (20.855438294, 9.705185195))
            Line((20.855438294, 9.705185195), (22.031008798, 11.323219183))
        make_face()
        with BuildLine():
            Line((14.205159576, 9.701238483), (12.300658438, 10.320048414))
            ThreePointArc((12.300658438, 10.320048414), (11.968984389, 9.376353621), (11.682624449, 8.417935381))
            Line((11.682624449, 8.417935381), (13.587125587, 7.79912545))
            ThreePointArc((13.587125587, 7.79912545), (13.871097422, 8.758319632), (14.205159576, 9.701238483))
        make_face()
        with BuildLine():
            Line((19.909110568, 7.847912459), (14.205159576, 9.701238483))
            ThreePointArc((14.205159576, 9.701238483), (13.871097422, 8.758319632), (13.587125587, 7.79912545))
            Line((13.587125587, 7.79912545), (19.291076579, 5.945799426))
            Line((19.291076579, 5.945799426), (19.909110568, 7.847912459))
        make_face()
        with BuildLine():
            Line((12.96750527, 3.886996739), (10.964994268, 3.886996739))
            ThreePointArc((10.964994268, 3.886996739), (10.941171231, 2.886996739), (10.964994268, 1.886996739))
            Line((10.964994268, 1.886996739), (12.96750527, 1.886996739))
            ThreePointArc((12.96750527, 1.886996739), (12.941171231, 2.886996739), (12.96750527, 3.886996739))
        make_face()
        with BuildLine():
            Line((18.964994268, 3.886996739), (12.96750527, 3.886996739))
            ThreePointArc((12.96750527, 3.886996739), (12.941171231, 2.886996739), (12.96750527, 1.886996739))
            Line((12.96750527, 1.886996739), (18.964994268, 1.886996739))
            Line((18.964994268, 1.886996739), (18.964994268, 3.886996739))
        make_face()
        with BuildLine():
            Line((13.587125587, -2.025131973), (11.682624449, -2.643941904))
            ThreePointArc((11.682624449, -2.643941904), (11.968984389, -3.602360143), (12.300658438, -4.546054936))
            Line((12.300658438, -4.546054936), (14.205159576, -3.927245005))
            ThreePointArc((14.205159576, -3.927245005), (13.871097422, -2.984326154), (13.587125587, -2.025131973))
        make_face()
        with BuildLine():
            Line((16.003367771, -7.456427301), (14.383302339, -8.633473736))
            ThreePointArc((14.383302339, -8.633473736), (14.95181435, -9.456493559), (15.558872843, -10.251507724))
            Line((15.558872843, -10.251507724), (17.178938276, -9.07446129))
            ThreePointArc((17.178938276, -9.07446129), (16.569848338, -8.280923055), (16.003367771, -7.456427301))
        make_face()
    extrude(amount=-CUT_EXTRUDE1_DEPTH, mode=Mode.SUBTRACT)


solid = part.part
